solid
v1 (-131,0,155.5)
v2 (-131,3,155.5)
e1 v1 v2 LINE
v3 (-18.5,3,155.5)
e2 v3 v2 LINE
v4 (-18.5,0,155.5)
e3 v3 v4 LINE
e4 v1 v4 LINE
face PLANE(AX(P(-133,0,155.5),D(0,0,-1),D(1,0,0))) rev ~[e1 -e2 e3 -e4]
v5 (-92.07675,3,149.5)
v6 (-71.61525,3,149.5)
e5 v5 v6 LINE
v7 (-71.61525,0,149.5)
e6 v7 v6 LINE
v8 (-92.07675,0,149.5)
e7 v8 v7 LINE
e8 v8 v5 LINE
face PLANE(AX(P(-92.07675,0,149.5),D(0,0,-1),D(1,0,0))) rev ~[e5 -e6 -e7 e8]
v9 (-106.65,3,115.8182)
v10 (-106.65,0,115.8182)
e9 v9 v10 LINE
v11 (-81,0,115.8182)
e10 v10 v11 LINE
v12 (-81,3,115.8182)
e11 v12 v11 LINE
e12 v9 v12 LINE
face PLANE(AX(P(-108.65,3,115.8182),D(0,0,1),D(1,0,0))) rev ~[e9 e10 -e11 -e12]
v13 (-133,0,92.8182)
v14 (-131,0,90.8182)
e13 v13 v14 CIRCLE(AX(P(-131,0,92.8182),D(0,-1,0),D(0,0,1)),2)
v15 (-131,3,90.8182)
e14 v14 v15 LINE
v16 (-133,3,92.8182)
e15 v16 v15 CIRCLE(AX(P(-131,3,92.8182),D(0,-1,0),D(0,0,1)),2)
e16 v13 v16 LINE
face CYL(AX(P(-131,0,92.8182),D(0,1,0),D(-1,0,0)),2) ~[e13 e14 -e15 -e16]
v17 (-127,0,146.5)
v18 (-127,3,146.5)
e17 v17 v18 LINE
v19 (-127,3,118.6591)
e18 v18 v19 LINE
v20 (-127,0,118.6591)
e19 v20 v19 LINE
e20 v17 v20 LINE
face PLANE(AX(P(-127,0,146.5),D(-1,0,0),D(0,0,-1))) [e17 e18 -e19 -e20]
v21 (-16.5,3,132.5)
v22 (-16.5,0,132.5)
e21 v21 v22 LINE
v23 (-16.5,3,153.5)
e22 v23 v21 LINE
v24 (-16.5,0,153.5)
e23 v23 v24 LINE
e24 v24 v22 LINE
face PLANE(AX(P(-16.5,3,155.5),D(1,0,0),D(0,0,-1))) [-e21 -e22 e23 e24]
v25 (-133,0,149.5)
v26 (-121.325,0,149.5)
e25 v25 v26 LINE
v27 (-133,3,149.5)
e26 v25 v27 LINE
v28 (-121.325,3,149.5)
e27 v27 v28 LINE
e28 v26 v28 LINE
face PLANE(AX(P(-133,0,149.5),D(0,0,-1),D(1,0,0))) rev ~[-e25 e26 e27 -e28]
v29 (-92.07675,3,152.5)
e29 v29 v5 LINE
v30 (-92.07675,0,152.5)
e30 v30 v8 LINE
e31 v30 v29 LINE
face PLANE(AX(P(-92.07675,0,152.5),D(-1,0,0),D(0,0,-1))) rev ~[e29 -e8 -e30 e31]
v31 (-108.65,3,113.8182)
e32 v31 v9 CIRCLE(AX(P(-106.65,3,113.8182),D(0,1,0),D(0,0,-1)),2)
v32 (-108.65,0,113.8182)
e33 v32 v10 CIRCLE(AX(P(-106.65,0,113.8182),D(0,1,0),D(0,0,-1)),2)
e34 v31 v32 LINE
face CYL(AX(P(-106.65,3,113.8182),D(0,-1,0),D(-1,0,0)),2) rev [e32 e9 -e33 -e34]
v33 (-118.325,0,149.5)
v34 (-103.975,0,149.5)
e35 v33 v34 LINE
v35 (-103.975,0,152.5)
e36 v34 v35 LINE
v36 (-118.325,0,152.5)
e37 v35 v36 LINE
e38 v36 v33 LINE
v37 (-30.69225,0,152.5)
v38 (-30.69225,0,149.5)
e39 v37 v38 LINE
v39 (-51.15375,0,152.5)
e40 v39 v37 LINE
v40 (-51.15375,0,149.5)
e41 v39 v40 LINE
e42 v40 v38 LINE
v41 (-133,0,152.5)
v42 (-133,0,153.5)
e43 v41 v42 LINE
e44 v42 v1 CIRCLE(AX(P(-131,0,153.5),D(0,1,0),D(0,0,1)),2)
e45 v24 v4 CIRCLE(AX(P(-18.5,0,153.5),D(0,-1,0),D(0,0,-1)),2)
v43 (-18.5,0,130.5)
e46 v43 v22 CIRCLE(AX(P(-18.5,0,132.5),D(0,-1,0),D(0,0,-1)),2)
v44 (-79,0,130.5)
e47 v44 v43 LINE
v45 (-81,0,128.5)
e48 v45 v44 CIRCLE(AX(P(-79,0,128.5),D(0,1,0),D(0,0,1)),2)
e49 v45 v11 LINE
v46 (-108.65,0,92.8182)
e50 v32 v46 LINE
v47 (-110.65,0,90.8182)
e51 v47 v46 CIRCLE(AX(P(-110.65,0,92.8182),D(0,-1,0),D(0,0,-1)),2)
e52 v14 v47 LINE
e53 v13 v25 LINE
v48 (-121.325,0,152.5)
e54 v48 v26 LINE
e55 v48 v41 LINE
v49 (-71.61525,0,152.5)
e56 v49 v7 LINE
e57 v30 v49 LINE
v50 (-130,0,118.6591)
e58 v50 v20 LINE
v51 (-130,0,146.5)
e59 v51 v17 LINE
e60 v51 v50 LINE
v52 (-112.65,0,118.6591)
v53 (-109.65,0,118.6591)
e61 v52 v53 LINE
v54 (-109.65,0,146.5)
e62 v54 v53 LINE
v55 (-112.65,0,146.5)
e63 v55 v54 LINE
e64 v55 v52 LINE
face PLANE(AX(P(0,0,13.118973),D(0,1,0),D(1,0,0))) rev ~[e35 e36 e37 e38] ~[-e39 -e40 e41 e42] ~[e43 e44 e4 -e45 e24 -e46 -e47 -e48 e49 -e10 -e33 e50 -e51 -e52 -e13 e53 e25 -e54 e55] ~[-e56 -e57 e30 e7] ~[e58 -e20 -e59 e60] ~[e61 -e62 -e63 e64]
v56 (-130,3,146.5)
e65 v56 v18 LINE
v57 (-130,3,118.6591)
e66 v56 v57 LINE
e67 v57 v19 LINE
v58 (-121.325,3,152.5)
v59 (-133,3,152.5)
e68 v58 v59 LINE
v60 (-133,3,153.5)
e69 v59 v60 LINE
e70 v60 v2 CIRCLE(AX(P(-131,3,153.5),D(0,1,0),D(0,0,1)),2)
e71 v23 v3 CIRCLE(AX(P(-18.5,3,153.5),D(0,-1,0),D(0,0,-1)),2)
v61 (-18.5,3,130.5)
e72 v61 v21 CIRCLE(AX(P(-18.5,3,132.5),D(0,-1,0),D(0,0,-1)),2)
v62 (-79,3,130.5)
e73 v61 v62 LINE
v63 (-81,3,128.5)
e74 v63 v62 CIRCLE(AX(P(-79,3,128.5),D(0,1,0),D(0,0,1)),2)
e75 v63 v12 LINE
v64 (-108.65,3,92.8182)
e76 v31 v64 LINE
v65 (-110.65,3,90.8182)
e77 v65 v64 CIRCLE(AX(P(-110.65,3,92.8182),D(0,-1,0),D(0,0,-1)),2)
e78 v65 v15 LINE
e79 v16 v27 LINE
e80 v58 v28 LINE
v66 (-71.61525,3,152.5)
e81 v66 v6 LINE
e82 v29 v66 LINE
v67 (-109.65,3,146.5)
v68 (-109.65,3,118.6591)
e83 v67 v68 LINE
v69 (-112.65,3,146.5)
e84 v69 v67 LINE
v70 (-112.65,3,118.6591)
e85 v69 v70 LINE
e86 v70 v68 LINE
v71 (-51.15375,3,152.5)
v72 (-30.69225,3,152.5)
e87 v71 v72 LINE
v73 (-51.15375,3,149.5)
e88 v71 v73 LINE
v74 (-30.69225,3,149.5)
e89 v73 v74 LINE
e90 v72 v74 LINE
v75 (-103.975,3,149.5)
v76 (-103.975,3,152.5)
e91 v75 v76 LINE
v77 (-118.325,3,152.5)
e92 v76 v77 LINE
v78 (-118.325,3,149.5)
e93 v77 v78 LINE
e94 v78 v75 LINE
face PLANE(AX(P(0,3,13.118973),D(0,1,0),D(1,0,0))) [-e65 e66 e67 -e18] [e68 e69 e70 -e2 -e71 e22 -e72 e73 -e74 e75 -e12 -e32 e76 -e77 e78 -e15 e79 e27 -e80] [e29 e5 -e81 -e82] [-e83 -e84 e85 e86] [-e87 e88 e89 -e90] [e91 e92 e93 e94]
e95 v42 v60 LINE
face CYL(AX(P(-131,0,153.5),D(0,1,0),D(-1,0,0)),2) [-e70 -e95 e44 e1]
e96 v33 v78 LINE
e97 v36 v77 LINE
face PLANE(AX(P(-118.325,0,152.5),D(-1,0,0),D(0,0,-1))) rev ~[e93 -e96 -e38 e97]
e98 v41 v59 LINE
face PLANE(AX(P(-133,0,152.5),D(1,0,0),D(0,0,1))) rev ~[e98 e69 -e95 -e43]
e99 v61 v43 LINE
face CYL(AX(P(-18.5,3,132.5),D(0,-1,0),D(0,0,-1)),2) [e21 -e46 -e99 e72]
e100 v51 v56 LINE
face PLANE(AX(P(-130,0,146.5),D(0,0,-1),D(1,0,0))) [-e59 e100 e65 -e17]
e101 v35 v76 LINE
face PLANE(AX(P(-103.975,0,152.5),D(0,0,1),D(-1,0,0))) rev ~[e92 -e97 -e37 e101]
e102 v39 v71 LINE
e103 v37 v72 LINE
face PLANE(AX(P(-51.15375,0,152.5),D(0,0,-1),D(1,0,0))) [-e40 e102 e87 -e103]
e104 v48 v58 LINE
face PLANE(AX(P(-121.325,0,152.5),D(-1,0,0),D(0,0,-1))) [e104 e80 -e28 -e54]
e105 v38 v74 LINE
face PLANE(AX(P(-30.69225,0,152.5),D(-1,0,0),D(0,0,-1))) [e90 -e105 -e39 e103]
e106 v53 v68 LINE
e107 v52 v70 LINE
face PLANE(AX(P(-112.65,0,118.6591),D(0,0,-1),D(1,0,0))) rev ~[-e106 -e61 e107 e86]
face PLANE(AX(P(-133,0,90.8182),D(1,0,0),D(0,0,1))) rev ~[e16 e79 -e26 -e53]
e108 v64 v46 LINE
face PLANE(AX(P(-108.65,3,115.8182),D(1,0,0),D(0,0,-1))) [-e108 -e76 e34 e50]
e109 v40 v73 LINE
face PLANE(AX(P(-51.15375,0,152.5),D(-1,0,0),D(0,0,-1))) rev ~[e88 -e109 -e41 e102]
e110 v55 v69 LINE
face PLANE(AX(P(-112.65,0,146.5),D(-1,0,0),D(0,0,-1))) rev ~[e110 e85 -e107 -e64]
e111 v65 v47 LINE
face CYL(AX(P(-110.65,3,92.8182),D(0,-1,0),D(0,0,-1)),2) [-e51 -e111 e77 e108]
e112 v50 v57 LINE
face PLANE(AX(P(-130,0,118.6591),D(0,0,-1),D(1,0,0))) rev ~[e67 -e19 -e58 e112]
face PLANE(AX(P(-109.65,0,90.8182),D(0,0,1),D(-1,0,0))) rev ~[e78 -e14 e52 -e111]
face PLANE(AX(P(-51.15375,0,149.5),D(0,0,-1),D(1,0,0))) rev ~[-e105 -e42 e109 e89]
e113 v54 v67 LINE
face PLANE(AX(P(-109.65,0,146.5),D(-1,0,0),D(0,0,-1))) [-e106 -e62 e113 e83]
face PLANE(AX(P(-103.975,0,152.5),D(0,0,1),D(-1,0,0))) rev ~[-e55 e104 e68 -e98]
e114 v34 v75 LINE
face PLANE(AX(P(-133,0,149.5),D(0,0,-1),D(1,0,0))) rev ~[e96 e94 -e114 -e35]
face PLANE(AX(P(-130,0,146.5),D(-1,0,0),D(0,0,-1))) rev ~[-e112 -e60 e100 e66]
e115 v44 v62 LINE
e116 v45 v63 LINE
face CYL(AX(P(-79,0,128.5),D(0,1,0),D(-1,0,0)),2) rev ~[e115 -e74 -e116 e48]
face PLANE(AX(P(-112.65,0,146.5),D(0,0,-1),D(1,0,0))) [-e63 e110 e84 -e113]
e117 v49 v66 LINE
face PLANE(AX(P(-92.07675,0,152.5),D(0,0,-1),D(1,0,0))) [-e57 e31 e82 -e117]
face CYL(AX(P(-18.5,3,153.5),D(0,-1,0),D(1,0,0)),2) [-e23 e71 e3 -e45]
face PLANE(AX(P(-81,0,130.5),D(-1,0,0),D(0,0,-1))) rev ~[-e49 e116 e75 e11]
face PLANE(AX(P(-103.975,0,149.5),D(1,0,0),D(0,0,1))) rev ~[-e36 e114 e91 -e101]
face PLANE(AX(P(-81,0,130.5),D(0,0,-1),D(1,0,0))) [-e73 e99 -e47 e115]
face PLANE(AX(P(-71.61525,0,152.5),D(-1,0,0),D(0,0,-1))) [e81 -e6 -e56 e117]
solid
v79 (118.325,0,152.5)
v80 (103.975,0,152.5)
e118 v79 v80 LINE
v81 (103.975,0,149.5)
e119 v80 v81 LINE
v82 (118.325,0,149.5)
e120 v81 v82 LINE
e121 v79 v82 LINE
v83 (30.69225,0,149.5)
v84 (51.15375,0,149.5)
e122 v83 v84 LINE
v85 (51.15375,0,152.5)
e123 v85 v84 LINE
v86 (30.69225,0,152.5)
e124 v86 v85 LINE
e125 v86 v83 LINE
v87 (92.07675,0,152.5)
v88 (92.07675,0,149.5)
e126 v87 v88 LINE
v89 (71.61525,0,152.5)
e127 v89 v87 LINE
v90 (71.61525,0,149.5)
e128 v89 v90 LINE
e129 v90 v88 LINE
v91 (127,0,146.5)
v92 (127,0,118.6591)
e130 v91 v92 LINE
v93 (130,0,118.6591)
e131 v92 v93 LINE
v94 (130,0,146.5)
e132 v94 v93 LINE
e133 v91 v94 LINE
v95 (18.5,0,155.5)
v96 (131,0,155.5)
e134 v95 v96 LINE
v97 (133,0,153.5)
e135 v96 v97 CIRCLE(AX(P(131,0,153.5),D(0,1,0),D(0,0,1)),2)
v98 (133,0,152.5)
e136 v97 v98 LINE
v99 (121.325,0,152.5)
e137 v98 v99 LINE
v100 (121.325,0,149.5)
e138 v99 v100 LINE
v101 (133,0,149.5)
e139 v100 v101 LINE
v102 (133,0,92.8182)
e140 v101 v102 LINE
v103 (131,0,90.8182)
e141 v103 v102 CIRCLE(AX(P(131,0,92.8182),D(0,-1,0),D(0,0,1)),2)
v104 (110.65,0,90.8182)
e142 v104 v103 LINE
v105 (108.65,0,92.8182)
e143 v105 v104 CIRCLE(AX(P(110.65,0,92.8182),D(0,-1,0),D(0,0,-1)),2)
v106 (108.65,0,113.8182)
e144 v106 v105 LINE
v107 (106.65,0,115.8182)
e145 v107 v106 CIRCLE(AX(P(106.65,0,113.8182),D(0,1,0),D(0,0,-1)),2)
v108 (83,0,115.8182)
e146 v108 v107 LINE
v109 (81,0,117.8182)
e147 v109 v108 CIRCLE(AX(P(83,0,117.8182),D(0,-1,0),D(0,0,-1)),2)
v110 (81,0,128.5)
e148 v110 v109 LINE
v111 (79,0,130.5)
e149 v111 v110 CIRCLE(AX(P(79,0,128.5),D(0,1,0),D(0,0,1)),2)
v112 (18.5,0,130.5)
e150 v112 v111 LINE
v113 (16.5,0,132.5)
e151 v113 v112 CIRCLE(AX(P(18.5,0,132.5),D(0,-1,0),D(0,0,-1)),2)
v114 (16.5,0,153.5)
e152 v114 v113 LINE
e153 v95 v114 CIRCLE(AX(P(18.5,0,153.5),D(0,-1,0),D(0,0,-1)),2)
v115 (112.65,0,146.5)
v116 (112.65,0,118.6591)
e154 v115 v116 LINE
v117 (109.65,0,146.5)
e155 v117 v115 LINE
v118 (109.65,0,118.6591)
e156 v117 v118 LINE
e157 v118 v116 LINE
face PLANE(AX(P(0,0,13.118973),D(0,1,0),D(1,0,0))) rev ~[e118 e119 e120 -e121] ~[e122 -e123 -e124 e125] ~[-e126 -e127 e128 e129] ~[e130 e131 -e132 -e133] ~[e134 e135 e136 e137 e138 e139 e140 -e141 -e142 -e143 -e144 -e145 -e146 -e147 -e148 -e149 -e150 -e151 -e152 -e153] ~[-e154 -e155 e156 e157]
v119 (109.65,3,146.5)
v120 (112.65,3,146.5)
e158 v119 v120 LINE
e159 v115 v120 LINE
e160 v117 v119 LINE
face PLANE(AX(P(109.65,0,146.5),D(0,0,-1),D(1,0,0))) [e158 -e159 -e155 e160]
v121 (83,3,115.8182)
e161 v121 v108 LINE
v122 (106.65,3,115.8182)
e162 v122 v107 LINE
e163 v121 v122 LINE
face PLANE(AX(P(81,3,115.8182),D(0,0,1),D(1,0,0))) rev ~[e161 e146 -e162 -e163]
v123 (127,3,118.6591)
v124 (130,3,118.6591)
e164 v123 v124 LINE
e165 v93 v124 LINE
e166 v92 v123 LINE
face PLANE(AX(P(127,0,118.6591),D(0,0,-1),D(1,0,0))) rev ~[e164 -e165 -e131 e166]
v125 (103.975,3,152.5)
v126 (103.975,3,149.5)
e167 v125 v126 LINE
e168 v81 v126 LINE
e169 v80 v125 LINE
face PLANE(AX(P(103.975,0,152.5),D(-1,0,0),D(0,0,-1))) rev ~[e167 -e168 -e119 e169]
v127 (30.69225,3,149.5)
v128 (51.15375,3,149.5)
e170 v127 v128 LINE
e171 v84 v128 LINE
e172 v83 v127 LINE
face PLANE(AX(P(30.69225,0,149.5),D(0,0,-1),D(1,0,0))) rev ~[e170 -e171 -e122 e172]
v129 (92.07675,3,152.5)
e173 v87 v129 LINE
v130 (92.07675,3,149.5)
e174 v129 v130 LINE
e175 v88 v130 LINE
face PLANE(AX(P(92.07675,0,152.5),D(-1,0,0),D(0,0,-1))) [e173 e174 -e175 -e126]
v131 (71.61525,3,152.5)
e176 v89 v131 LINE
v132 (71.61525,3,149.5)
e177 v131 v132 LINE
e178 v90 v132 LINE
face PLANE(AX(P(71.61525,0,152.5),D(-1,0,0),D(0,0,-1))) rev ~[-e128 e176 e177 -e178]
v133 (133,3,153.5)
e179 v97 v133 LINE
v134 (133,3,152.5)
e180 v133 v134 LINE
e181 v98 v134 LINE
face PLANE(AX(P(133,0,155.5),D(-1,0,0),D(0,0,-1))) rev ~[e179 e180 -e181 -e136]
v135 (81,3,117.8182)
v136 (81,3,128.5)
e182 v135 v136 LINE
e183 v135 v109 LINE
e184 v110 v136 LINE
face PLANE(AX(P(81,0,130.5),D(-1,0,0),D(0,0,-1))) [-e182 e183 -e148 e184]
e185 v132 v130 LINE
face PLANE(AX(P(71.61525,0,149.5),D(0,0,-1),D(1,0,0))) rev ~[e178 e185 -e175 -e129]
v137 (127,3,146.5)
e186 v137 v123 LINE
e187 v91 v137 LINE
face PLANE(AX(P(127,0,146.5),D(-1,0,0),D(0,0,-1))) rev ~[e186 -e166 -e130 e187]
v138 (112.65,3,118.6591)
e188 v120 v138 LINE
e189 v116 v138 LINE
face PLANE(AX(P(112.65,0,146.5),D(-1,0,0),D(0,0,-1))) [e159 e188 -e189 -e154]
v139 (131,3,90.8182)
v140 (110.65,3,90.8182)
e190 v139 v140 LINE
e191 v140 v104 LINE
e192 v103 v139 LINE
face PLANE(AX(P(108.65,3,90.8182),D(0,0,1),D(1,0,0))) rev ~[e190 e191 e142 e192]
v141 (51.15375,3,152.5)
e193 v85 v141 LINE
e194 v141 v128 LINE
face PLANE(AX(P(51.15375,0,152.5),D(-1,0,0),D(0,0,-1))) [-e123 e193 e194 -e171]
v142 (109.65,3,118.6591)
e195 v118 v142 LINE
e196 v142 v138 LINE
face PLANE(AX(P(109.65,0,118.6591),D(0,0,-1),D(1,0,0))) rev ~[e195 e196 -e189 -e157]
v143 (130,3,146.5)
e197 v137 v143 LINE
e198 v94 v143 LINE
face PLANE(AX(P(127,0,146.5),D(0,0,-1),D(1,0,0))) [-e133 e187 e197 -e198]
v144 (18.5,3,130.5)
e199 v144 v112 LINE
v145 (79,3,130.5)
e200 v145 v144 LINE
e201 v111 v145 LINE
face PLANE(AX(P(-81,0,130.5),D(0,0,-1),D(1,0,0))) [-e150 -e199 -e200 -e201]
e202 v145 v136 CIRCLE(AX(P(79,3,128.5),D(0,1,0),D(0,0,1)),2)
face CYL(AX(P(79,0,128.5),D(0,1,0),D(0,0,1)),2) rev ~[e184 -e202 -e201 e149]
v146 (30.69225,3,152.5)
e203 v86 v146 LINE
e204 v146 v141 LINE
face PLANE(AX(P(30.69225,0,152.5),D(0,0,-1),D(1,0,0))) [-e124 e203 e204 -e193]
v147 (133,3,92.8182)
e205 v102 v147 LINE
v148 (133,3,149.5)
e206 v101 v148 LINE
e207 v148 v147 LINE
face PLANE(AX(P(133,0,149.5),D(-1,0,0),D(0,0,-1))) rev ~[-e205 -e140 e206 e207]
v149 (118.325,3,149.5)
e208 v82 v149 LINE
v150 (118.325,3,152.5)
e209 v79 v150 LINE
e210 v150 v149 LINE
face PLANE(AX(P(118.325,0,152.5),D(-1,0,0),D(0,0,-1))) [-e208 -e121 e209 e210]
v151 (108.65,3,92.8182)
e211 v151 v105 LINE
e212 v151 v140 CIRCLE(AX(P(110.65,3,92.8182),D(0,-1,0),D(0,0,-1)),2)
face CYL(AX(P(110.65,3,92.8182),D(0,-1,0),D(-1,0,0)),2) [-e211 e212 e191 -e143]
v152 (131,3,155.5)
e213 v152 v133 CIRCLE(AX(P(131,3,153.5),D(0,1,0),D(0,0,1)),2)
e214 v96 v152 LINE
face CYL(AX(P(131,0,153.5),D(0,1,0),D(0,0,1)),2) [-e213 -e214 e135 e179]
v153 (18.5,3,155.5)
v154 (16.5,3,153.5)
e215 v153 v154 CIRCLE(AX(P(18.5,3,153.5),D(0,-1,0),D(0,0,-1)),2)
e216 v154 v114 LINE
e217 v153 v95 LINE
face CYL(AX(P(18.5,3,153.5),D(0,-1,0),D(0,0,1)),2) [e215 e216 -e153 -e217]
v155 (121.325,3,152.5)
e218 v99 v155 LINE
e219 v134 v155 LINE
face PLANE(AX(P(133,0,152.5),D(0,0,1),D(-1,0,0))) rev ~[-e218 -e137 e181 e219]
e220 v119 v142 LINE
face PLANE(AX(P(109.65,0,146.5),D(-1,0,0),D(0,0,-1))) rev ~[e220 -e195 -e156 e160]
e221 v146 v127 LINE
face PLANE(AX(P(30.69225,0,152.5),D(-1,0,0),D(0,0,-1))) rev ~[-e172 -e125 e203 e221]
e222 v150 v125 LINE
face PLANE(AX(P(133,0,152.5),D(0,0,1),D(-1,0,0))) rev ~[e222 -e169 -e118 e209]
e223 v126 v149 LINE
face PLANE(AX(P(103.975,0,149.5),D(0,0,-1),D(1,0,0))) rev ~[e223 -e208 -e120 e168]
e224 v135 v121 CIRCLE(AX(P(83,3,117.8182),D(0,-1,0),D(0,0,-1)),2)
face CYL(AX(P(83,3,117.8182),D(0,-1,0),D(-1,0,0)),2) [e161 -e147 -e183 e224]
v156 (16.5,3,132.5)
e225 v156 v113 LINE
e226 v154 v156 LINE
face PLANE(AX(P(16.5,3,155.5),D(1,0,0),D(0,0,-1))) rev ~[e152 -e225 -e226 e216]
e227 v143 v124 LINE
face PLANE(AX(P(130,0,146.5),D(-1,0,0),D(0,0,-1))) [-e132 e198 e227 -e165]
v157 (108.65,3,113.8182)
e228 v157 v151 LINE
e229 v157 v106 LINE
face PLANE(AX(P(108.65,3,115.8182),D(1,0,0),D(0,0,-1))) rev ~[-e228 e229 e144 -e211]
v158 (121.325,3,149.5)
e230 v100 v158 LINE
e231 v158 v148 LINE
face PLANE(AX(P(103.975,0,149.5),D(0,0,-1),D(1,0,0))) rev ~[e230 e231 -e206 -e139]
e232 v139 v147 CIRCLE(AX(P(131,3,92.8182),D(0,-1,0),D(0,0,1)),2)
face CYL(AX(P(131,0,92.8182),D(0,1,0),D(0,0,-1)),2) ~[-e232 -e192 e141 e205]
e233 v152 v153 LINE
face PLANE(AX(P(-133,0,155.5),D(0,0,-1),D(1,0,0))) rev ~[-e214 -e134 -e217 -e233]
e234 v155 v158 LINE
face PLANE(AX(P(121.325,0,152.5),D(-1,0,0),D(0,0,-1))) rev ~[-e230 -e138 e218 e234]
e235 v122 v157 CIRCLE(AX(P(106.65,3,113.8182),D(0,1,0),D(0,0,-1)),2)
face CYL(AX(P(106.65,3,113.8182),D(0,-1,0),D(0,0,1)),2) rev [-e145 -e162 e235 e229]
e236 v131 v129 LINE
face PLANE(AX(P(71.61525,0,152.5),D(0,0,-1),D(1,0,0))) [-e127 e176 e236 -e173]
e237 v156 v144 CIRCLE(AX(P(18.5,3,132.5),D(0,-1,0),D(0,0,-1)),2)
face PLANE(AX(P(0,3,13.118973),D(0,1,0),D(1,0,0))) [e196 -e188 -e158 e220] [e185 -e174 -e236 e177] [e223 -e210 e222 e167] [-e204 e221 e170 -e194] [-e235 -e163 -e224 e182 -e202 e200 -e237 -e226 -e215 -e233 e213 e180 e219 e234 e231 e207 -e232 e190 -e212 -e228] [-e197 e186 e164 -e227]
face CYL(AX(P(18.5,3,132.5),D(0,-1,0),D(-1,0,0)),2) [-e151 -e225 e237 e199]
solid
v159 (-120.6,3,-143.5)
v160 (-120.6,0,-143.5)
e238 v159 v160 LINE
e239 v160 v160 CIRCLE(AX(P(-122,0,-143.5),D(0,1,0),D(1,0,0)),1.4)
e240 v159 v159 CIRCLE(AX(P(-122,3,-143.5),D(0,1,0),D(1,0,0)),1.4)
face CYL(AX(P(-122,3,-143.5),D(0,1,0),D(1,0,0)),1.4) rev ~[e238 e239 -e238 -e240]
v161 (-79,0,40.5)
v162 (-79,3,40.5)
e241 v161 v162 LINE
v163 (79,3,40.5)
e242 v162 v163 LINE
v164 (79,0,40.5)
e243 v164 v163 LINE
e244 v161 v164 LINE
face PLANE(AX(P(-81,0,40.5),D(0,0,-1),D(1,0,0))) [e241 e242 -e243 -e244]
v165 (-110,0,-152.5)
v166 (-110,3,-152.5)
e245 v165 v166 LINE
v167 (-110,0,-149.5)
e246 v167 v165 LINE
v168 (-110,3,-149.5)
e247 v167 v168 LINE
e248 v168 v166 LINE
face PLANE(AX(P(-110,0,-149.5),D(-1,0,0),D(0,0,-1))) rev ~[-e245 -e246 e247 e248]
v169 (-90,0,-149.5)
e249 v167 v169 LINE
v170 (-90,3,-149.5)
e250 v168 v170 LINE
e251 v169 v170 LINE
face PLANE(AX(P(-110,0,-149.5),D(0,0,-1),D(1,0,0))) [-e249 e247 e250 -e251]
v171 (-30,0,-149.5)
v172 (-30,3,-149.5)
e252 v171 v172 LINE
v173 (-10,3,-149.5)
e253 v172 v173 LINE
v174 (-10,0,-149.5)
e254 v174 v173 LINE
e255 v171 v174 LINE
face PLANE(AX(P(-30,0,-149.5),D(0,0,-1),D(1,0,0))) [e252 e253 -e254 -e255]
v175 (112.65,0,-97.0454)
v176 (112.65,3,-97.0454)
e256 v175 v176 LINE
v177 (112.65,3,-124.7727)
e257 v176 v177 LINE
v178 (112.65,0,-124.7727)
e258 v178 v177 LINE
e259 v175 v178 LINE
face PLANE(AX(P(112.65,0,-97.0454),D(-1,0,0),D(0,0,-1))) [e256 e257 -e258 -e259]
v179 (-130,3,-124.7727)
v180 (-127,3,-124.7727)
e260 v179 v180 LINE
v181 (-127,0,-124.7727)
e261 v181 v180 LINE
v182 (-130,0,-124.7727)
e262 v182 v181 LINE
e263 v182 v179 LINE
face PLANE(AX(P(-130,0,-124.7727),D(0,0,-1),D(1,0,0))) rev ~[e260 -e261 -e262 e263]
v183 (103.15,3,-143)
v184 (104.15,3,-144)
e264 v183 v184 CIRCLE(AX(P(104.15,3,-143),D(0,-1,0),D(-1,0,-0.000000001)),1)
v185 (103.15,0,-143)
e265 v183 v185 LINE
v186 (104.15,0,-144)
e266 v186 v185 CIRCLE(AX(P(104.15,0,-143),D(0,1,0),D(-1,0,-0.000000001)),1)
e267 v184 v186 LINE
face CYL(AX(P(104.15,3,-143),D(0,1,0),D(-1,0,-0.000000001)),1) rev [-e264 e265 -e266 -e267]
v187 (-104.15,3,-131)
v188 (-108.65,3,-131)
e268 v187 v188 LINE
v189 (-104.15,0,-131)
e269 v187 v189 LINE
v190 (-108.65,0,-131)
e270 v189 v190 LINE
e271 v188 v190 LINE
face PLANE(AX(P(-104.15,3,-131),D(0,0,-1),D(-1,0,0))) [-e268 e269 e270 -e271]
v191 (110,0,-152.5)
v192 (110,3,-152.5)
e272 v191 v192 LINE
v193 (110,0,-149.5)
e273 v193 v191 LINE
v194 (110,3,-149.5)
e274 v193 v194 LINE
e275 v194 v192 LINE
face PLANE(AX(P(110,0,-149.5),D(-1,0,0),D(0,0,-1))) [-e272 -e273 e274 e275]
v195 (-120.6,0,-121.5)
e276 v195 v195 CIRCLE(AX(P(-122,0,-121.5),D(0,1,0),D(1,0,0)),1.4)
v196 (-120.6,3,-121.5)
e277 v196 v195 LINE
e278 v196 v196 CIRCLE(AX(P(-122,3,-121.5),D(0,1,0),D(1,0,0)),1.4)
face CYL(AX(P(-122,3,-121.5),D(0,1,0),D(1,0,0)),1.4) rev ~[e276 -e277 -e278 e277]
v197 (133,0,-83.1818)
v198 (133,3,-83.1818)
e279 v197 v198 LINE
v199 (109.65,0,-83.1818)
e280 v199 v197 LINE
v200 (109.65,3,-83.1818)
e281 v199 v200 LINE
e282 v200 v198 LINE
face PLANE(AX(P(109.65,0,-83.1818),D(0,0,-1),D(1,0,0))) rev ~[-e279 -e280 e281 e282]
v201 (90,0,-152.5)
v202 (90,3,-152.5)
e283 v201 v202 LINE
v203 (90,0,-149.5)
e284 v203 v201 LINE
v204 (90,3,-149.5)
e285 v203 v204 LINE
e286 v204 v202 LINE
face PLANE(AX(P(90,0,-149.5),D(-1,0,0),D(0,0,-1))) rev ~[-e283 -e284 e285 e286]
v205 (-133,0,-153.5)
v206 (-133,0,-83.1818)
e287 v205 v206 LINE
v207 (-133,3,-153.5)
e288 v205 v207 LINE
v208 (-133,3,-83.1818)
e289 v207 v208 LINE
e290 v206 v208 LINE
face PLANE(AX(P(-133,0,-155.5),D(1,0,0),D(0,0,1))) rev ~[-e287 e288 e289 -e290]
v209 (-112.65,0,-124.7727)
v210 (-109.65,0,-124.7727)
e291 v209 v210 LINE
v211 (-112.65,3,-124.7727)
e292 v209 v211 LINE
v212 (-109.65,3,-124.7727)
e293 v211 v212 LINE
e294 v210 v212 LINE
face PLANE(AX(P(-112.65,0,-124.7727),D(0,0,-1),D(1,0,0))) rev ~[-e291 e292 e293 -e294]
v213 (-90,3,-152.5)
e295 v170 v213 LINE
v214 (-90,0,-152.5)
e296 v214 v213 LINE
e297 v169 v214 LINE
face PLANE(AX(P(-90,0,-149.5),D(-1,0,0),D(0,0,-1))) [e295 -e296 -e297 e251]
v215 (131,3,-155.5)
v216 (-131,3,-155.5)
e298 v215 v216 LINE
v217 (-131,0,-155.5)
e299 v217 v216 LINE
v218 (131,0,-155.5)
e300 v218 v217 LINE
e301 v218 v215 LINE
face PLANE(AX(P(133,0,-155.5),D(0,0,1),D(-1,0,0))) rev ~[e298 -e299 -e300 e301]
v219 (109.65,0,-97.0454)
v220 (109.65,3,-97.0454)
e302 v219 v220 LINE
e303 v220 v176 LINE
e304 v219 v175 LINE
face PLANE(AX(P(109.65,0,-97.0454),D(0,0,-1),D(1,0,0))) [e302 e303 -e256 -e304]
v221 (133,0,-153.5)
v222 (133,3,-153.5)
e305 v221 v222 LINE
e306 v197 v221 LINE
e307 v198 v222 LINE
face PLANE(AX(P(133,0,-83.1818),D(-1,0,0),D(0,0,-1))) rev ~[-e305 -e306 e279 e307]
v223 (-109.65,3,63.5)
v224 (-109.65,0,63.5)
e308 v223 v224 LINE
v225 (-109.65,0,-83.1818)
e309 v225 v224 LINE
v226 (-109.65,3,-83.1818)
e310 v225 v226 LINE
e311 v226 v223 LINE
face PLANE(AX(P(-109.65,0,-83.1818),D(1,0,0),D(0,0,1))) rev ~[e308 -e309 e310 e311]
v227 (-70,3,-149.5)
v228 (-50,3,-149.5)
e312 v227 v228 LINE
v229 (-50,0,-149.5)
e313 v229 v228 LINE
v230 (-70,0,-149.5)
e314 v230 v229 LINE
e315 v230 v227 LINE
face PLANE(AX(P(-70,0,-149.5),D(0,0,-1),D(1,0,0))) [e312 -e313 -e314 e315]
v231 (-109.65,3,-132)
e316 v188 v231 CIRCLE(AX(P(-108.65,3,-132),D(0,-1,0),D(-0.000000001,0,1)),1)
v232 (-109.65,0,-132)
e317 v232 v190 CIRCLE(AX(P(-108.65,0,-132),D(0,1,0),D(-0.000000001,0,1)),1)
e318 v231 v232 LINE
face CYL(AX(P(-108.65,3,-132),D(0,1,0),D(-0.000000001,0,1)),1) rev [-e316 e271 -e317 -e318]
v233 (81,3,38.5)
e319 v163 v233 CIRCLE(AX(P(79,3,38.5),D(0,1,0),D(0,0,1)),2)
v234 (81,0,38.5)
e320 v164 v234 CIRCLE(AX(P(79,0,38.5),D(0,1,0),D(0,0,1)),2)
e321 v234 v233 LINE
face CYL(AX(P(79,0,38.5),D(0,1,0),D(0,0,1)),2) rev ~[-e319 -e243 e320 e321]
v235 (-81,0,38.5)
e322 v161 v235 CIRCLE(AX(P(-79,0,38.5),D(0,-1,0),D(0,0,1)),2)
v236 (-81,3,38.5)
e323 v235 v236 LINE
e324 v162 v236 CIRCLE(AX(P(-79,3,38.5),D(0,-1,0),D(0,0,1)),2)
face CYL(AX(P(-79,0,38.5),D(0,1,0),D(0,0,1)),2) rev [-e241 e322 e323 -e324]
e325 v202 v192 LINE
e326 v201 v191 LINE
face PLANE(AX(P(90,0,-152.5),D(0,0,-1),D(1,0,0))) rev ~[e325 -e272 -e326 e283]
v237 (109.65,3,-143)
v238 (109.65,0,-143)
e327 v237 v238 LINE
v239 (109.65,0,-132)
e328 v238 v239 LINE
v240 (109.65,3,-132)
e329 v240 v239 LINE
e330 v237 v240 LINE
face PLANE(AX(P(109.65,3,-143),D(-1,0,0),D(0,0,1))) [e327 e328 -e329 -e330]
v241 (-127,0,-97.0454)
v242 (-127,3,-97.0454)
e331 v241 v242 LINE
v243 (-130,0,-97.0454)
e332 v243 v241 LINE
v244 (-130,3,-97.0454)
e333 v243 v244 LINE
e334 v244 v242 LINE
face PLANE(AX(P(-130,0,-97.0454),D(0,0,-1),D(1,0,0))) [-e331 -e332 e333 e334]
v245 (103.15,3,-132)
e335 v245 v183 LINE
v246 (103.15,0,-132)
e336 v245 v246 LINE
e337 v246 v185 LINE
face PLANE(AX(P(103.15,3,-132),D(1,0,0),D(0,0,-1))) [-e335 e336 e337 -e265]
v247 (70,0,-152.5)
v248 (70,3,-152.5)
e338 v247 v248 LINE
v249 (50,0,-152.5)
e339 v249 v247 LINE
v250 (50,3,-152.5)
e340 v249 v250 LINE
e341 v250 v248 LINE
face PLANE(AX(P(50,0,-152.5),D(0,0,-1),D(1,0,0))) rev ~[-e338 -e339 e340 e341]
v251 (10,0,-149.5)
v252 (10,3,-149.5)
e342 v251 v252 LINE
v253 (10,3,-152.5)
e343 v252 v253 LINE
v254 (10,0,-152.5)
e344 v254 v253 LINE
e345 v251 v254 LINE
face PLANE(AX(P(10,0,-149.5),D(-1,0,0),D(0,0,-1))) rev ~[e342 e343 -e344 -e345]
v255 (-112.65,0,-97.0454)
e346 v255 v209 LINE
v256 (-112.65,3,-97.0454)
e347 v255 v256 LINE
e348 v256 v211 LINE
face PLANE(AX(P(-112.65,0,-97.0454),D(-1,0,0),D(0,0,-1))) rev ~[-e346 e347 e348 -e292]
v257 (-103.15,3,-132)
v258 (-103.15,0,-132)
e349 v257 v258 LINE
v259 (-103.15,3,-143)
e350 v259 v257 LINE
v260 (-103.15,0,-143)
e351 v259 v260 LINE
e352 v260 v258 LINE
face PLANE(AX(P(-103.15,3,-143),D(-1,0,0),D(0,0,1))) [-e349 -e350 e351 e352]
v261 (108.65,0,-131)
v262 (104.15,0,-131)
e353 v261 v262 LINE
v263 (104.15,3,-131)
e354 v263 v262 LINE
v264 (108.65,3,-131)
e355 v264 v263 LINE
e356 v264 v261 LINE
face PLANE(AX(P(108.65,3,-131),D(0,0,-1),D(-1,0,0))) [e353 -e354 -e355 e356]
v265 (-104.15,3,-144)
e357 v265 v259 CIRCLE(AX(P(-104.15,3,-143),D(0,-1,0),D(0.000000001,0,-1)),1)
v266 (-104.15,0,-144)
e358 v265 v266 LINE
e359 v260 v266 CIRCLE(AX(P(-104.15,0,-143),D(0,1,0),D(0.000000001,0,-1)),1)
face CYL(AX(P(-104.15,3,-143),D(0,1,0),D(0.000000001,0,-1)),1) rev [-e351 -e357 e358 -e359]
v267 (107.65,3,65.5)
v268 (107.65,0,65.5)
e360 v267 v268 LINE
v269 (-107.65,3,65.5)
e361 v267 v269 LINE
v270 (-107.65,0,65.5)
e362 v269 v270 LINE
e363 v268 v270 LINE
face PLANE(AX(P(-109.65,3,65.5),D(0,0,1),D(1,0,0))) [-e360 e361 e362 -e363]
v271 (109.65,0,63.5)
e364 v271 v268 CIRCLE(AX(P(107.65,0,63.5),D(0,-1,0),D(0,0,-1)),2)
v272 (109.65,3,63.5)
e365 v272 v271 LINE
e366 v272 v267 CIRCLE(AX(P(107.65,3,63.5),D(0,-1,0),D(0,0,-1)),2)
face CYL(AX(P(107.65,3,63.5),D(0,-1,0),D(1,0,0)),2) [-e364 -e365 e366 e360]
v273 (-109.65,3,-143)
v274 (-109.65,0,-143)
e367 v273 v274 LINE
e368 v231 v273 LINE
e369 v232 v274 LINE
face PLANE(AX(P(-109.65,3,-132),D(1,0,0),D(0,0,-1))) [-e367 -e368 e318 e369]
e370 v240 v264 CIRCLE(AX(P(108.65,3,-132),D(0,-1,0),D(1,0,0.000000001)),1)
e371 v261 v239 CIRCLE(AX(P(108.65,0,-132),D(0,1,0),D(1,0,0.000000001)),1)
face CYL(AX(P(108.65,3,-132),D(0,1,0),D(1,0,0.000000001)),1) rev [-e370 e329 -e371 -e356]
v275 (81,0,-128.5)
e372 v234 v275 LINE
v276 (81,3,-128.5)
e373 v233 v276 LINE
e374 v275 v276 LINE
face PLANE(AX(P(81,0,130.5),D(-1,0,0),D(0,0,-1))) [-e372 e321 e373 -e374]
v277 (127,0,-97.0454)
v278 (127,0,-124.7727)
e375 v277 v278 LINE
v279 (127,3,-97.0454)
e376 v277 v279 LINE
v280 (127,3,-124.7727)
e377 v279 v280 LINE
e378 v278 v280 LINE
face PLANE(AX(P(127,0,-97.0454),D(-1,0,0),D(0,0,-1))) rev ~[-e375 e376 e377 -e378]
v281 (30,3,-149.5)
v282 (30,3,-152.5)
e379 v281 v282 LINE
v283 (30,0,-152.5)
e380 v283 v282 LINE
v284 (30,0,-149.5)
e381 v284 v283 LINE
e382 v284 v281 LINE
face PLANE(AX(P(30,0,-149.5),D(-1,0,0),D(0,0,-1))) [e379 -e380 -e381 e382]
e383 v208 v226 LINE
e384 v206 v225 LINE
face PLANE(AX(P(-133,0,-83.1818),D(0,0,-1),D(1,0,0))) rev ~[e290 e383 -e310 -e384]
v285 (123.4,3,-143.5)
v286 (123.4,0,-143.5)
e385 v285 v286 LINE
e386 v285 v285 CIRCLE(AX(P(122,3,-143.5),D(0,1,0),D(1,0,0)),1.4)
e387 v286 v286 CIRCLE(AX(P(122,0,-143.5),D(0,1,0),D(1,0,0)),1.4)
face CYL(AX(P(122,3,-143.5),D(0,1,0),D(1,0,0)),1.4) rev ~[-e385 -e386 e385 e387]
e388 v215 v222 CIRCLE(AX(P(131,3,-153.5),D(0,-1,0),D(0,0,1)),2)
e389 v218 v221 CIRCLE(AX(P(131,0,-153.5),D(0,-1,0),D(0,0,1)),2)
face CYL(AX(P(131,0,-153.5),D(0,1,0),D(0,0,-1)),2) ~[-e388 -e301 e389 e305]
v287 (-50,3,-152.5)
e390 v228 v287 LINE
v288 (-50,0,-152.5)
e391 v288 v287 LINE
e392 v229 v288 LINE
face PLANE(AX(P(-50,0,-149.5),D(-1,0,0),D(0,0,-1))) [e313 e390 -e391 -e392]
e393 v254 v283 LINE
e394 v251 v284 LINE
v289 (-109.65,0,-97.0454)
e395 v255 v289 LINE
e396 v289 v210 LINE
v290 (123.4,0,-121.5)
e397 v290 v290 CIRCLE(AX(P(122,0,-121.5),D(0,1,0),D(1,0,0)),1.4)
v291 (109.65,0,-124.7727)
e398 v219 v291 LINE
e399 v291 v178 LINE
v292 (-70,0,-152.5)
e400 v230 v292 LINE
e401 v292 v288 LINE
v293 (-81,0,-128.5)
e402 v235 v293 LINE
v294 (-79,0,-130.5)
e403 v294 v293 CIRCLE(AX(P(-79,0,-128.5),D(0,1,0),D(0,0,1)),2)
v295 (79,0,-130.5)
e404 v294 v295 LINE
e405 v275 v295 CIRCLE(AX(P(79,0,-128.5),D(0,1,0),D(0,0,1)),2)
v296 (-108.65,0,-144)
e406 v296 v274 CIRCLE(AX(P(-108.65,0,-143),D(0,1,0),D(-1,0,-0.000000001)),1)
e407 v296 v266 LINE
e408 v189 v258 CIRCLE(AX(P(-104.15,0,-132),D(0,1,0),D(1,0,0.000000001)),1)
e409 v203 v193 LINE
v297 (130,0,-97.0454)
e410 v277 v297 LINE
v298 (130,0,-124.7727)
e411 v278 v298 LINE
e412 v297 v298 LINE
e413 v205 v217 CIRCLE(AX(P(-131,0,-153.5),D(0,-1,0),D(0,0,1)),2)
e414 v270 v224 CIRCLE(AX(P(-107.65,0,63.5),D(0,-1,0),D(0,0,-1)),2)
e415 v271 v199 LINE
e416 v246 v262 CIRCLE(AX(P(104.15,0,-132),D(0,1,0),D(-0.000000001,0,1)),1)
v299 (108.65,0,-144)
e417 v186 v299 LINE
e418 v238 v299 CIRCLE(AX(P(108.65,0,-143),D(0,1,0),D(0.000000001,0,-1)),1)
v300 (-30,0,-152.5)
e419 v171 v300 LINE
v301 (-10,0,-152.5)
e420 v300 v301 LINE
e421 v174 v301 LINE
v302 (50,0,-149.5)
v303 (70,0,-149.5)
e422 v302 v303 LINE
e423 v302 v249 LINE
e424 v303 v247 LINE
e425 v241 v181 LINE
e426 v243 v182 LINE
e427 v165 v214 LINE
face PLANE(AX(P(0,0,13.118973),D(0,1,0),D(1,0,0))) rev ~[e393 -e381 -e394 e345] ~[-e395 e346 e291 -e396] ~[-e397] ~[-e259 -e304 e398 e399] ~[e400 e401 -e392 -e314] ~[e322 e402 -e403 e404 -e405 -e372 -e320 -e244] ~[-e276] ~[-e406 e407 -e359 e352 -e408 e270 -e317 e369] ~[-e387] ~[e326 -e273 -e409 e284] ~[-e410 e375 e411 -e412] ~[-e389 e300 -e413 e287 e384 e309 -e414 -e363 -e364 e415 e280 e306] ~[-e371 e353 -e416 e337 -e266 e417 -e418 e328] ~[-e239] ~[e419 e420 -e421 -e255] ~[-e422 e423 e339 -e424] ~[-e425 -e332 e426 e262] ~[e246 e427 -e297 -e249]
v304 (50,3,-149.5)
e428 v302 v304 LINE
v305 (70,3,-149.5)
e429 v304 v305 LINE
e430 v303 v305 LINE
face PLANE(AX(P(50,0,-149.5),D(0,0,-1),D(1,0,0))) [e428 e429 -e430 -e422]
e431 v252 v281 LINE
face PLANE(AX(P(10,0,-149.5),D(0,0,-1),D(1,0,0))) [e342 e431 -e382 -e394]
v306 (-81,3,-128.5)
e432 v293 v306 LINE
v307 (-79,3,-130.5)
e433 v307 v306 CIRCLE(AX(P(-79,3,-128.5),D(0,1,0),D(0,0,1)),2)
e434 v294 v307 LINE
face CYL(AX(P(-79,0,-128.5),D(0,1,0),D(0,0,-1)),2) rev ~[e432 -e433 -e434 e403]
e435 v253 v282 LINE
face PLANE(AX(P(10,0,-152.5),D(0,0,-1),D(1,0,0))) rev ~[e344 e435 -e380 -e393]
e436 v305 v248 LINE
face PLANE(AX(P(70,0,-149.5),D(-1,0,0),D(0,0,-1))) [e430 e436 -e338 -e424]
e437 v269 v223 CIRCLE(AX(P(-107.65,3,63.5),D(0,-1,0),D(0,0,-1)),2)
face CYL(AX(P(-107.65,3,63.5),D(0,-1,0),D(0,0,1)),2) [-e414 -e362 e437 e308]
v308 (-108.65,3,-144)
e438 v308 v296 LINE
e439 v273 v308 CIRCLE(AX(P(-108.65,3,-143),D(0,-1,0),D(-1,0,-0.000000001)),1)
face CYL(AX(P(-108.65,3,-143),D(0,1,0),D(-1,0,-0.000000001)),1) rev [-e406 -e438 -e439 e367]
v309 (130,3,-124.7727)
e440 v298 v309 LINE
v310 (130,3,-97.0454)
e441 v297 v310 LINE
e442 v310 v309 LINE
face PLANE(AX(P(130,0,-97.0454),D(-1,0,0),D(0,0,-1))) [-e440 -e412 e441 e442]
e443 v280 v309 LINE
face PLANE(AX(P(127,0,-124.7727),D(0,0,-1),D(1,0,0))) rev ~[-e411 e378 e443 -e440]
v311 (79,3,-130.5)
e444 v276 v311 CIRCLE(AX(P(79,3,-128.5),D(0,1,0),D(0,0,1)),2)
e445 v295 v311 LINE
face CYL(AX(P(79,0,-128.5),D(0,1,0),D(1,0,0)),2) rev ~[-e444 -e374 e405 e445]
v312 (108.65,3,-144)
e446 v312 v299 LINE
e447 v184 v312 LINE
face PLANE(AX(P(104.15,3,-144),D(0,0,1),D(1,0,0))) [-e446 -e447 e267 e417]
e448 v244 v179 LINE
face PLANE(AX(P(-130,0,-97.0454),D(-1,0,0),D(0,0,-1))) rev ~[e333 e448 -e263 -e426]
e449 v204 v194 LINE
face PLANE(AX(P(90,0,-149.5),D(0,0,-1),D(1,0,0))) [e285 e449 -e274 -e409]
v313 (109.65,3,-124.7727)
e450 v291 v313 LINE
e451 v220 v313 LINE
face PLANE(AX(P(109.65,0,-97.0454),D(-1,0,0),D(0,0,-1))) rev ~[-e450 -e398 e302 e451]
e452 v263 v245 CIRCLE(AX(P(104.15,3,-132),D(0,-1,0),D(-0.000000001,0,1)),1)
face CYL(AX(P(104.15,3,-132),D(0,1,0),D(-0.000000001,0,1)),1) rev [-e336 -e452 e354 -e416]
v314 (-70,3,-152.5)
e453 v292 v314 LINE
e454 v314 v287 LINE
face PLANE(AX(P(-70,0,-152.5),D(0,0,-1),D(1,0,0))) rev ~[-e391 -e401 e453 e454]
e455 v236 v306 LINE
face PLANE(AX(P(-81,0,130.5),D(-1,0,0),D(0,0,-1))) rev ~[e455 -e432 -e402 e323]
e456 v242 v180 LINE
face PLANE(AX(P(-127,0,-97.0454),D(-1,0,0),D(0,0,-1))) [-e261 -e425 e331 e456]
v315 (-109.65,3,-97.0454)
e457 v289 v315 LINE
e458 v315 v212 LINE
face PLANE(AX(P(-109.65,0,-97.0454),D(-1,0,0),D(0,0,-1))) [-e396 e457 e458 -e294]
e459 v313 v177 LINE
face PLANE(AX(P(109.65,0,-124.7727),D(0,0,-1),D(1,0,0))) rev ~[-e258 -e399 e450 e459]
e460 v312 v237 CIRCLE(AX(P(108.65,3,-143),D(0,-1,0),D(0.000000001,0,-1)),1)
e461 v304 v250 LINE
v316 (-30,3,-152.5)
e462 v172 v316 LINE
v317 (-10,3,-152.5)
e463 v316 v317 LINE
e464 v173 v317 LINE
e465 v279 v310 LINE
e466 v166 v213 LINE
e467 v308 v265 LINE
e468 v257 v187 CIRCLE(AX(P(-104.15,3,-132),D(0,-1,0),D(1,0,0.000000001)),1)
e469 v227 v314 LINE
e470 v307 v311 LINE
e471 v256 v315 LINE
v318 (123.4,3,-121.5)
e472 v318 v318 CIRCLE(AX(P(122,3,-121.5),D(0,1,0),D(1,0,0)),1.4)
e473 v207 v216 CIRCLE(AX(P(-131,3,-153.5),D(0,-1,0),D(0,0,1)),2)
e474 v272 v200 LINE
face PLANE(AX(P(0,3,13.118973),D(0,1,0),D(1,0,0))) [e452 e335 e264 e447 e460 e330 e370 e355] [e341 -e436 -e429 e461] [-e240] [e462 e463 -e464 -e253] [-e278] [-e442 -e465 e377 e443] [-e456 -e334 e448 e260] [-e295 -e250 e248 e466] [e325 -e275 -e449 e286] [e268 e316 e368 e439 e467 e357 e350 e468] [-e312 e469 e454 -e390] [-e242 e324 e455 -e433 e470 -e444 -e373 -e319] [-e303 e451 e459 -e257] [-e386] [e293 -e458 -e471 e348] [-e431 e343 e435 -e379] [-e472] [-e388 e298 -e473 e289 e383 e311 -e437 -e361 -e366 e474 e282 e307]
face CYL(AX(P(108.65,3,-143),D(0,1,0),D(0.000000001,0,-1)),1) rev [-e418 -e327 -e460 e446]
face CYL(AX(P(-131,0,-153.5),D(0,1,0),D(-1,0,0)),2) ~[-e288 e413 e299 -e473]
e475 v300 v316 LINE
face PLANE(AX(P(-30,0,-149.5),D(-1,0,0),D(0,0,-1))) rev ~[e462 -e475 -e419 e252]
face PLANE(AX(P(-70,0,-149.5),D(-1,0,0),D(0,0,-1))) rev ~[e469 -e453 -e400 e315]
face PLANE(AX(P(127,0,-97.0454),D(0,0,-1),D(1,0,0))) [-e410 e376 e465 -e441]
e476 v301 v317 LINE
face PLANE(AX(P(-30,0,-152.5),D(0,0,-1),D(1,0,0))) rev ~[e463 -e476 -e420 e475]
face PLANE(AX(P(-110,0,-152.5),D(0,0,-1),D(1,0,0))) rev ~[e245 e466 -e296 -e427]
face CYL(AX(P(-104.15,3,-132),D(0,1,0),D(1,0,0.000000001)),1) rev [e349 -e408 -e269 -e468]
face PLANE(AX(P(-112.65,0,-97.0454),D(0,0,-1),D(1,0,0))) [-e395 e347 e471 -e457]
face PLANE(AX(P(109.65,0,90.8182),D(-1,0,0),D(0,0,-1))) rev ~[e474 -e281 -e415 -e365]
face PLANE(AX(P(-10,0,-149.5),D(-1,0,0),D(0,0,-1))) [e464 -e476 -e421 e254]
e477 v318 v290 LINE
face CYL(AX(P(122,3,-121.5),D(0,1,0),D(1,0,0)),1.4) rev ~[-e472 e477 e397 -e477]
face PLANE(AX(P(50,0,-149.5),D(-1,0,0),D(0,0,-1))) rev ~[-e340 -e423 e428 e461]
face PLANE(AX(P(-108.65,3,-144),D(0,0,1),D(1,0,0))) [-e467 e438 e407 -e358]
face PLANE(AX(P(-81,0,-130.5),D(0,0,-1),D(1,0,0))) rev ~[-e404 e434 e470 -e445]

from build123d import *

# Parameters (mm, degrees)
SKETCH1_W               = 3
SKETCH1_H               = 27.8409
SKETCH1_W_2             = 20.4615
SKETCH1_H_2             = 3
SKETCH1_W_3             = 162
SKETCH1_H_3             = 261
SKETCH1_H_4             = 27.7273
SKETCH1_W_4             = 20
BOSS_EXTRUDE1_DEPTH     = 3
SKETCH4_W               = 162
SKETCH4_H               = 25
BOSS_EXTRUDE2_DEPTH     = 3
SKETCH3_W               = 28.65
SKETCH3_H               = 25.3182
SKETCH3_W_2             = 27.65
SKETCH3_H_2             = 25
SKETCH3_W_3             = 33
CUT_EXTRUDE2_DEPTH      = 1
CUT_EXTRUDE2_DEPTH_BACK = 4
FILLET1_R               = 2
FILLET2_R               = 2
FILLET3_R               = 2
SKETCH5_W               = 3
SKETCH5_H               = 3
BOSS_EXTRUDE3_DEPTH     = 3
SKETCH6_R               = 1.4
CUT_EXTRUDE3_DEPTH      = 1
CUT_EXTRUDE3_DEPTH_BACK = 4


with BuildPart() as part:
    # Sketch1 → Boss-Extrude1 (new body)
    with BuildSketch(Plane(origin=(0, 0, 0), x_dir=(1, 0, 0), z_dir=(0, 1, 0))):
        Polygon((-133, -152.5), (-133, -155.5), (133, -155.5), (133, -152.5), (112.4444, -152.5), (103.975, -152.5), (103.975, -149.5), (112.4444, -149.5), (133, -149.5), (133, -90.8182), (109.65, -90.8182), (109.65, 83.1818), (133, 83.1818), (133, 155.5), (-133, 155.5), (-133, 83.1818), (-109.65, 83.1818), (-109.65, -90.8182), (-133, -90.8182), (-133, -149.5), (-112.4444, -149.5), (-103.975, -149.5), (-103.975, -152.5), (-112.4444, -152.5), align=None)
        with Locations((-128.5, -132.57955)):
            Rectangle(SKETCH1_W, SKETCH1_H, mode=Mode.SUBTRACT)
        with Locations((-111.15, -132.57955)):
            Rectangle(SKETCH1_W, SKETCH1_H, mode=Mode.SUBTRACT)
        with Locations((-81.846, -151)):
            Rectangle(SKETCH1_W_2, SKETCH1_H_2, mode=Mode.SUBTRACT)
        with Locations((-40.923, -151)):
            Rectangle(SKETCH1_W_2, SKETCH1_H_2, mode=Mode.SUBTRACT)
        with Locations((0, -151)):
            Rectangle(SKETCH1_W_2, SKETCH1_H_2, mode=Mode.SUBTRACT)
        with Locations((40.923, -151)):
            Rectangle(SKETCH1_W_2, SKETCH1_H_2, mode=Mode.SUBTRACT)
        with Locations((81.846, -151)):
            Rectangle(SKETCH1_W_2, SKETCH1_H_2, mode=Mode.SUBTRACT)
        with Locations((111.15, -132.57955)):
            Rectangle(SKETCH1_W, SKETCH1_H, mode=Mode.SUBTRACT)
        with Locations((128.5, -132.57955)):
            Rectangle(SKETCH1_W, SKETCH1_H, mode=Mode.SUBTRACT)
        Rectangle(SKETCH1_W_3, SKETCH1_H_3, mode=Mode.SUBTRACT)
        with Locations((-128.5, 110.90905)):
            Rectangle(SKETCH1_W, SKETCH1_H_4, mode=Mode.SUBTRACT)
        with Locations((-111.15, 110.90905)):
            Rectangle(SKETCH1_W, SKETCH1_H_4, mode=Mode.SUBTRACT)
        with Locations((-100, 151)):
            Rectangle(SKETCH1_W_4, SKETCH1_H_2, mode=Mode.SUBTRACT)
        with Locations((-60, 151)):
            Rectangle(SKETCH1_W_4, SKETCH1_H_2, mode=Mode.SUBTRACT)
        with Locations((-20, 151)):
            Rectangle(SKETCH1_W_4, SKETCH1_H_2, mode=Mode.SUBTRACT)
        with Locations((20, 151)):
            Rectangle(SKETCH1_W_4, SKETCH1_H_2, mode=Mode.SUBTRACT)
        with Locations((60, 151)):
            Rectangle(SKETCH1_W_4, SKETCH1_H_2, mode=Mode.SUBTRACT)
        with Locations((111.15, 110.90905)):
            Rectangle(SKETCH1_W, SKETCH1_H_4, mode=Mode.SUBTRACT)
        with Locations((128.5, 110.90905)):
            Rectangle(SKETCH1_W, SKETCH1_H_4, mode=Mode.SUBTRACT)
        with Locations((100, 151)):
            Rectangle(SKETCH1_W_4, SKETCH1_H_2, mode=Mode.SUBTRACT)
    extrude(amount=BOSS_EXTRUDE1_DEPTH)

    # Sketch4 → Boss-Extrude2 (add)
    with BuildSketch(Plane.XZ):
        with Locations((0, 53)):
            Rectangle(SKETCH4_W, SKETCH4_H)
    extrude(amount=-BOSS_EXTRUDE2_DEPTH)

    # Sketch3 → Cut-Extrude2 (cut, two sides)
    with BuildSketch(Plane(origin=(0, 3, 0), x_dir=(1, 0, 0), z_dir=(0, 1, 0))) as cut_extrude2_sk:
        with Locations((-95.325, -78.1591)):
            Rectangle(SKETCH3_W, SKETCH3_H)
        with Locations((-94.825, -103.3182)):
            Rectangle(SKETCH3_W_2, SKETCH3_H_2)
        with Locations((0, -143)):
            Rectangle(SKETCH3_W_3, SKETCH3_H_2)
        with Locations((94.825, -103.3182)):
            Rectangle(SKETCH3_W_2, SKETCH3_H_2)
        with Locations((95.325, -78.1591)):
            Rectangle(SKETCH3_W, SKETCH3_H)
    extrude(amount=CUT_EXTRUDE2_DEPTH, mode=Mode.SUBTRACT)
    extrude(cut_extrude2_sk.sketch, amount=-CUT_EXTRUDE2_DEPTH_BACK, mode=Mode.SUBTRACT)

    # Fillet1
    fillet1_edges = [part.edges().sort_by_distance(p)[0] for p in [
        (-81, 1.5, -130.5),
        (81, 1.5, -130.5),
        (81, 1.5, 40.5),
        (-81, 1.5, 40.5),
        (133, 1.5, -155.5),
        (-109.65, 1.5, 65.5),
        (109.65, 1.5, 65.5),
        (-133, 1.5, -155.5),
    ]]
    fillet(fillet1_edges, radius=FILLET1_R)

    # Fillet2
    fillet2_edges = [part.edges().sort_by_distance(p)[0] for p in [
        (-108.65, 1.5, 115.8182),
        (-108.65, 1.5, 90.8182),
        (-16.5, 1.5, 155.5),
        (-133, 1.5, 155.5),
        (-81, 1.5, 130.5),
        (-133, 1.5, 90.8182),
        (-16.5, 1.5, 130.5),
    ]]
    fillet(fillet2_edges, radius=FILLET2_R)

    # Fillet3
    fillet3_edges = [part.edges().sort_by_distance(p)[0] for p in [
        (81, 1.5, 130.5),
        (133, 1.5, 90.8182),
        (133, 1.5, 155.5),
        (16.5, 1.5, 155.5),
        (16.5, 1.5, 130.5),
        (81, 1.5, 115.8182),
        (108.65, 1.5, 90.8182),
        (108.65, 1.5, 115.8182),
    ]]
    fillet(fillet3_edges, radius=FILLET3_R)

    # Sketch5 → Boss-Extrude3 (add)
    with BuildSketch(Plane(origin=(0, 0, 0), x_dir=(1, 0, 0), z_dir=(0, 1, 0))):
        with Locations((-119.825, -151)):
            Rectangle(SKETCH5_W, SKETCH5_H)
        with Locations((119.825, -151)):
            Rectangle(SKETCH5_W, SKETCH5_H)
    extrude(amount=BOSS_EXTRUDE3_DEPTH)

    # Sketch6 → Cut-Extrude3 (cut, two sides)
    with BuildSketch(Plane(origin=(0, 3, 0), x_dir=(1, 0, 0), z_dir=(0, 1, 0))) as cut_extrude3_sk:
        with Locations((-122, 143.5)):
            Circle(SKETCH6_R)
        with Locations((-122, 121.5)):
            Circle(SKETCH6_R)
        with Locations((122, 121.5)):
            Circle(SKETCH6_R)
        with Locations((122, 143.5)):
            Circle(SKETCH6_R)
        with BuildLine():
            Line((-104.15, 131), (-108.65, 131))
            ThreePointArc((-108.65, 131), (-109.357106781, 131.292893219), (-109.65, 132))
            Line((-109.65, 132), (-109.65, 143))
            ThreePointArc((-109.65, 143), (-109.357106781, 143.707106781), (-108.65, 144))
            Line((-108.65, 144), (-104.15, 144))
            ThreePointArc((-104.15, 144), (-103.442893219, 143.707106781), (-103.15, 143))
            Line((-103.15, 143), (-103.15, 132))
            ThreePointArc((-103.15, 132), (-103.442893219, 131.292893219), (-104.15, 131))
        make_face()
        with BuildLine():
            Line((104.15, 144), (108.65, 144))
            ThreePointArc((108.65, 144), (109.357106781, 143.707106781), (109.65, 143))
            Line((109.65, 143), (109.65, 132))
            ThreePointArc((109.65, 132), (109.357106781, 131.292893219), (108.65, 131))
            Line((108.65, 131), (104.15, 131))
            ThreePointArc((104.15, 131), (103.442893219, 131.292893219), (103.15, 132))
            Line((103.15, 132), (103.15, 143))
            ThreePointArc((103.15, 143), (103.442893219, 143.707106781), (104.15, 144))
        make_face()
    extrude(amount=CUT_EXTRUDE3_DEPTH, mode=Mode.SUBTRACT)
    extrude(cut_extrude3_sk.sketch, amount=-CUT_EXTRUDE3_DEPTH_BACK, mode=Mode.SUBTRACT)


solid = part.part
